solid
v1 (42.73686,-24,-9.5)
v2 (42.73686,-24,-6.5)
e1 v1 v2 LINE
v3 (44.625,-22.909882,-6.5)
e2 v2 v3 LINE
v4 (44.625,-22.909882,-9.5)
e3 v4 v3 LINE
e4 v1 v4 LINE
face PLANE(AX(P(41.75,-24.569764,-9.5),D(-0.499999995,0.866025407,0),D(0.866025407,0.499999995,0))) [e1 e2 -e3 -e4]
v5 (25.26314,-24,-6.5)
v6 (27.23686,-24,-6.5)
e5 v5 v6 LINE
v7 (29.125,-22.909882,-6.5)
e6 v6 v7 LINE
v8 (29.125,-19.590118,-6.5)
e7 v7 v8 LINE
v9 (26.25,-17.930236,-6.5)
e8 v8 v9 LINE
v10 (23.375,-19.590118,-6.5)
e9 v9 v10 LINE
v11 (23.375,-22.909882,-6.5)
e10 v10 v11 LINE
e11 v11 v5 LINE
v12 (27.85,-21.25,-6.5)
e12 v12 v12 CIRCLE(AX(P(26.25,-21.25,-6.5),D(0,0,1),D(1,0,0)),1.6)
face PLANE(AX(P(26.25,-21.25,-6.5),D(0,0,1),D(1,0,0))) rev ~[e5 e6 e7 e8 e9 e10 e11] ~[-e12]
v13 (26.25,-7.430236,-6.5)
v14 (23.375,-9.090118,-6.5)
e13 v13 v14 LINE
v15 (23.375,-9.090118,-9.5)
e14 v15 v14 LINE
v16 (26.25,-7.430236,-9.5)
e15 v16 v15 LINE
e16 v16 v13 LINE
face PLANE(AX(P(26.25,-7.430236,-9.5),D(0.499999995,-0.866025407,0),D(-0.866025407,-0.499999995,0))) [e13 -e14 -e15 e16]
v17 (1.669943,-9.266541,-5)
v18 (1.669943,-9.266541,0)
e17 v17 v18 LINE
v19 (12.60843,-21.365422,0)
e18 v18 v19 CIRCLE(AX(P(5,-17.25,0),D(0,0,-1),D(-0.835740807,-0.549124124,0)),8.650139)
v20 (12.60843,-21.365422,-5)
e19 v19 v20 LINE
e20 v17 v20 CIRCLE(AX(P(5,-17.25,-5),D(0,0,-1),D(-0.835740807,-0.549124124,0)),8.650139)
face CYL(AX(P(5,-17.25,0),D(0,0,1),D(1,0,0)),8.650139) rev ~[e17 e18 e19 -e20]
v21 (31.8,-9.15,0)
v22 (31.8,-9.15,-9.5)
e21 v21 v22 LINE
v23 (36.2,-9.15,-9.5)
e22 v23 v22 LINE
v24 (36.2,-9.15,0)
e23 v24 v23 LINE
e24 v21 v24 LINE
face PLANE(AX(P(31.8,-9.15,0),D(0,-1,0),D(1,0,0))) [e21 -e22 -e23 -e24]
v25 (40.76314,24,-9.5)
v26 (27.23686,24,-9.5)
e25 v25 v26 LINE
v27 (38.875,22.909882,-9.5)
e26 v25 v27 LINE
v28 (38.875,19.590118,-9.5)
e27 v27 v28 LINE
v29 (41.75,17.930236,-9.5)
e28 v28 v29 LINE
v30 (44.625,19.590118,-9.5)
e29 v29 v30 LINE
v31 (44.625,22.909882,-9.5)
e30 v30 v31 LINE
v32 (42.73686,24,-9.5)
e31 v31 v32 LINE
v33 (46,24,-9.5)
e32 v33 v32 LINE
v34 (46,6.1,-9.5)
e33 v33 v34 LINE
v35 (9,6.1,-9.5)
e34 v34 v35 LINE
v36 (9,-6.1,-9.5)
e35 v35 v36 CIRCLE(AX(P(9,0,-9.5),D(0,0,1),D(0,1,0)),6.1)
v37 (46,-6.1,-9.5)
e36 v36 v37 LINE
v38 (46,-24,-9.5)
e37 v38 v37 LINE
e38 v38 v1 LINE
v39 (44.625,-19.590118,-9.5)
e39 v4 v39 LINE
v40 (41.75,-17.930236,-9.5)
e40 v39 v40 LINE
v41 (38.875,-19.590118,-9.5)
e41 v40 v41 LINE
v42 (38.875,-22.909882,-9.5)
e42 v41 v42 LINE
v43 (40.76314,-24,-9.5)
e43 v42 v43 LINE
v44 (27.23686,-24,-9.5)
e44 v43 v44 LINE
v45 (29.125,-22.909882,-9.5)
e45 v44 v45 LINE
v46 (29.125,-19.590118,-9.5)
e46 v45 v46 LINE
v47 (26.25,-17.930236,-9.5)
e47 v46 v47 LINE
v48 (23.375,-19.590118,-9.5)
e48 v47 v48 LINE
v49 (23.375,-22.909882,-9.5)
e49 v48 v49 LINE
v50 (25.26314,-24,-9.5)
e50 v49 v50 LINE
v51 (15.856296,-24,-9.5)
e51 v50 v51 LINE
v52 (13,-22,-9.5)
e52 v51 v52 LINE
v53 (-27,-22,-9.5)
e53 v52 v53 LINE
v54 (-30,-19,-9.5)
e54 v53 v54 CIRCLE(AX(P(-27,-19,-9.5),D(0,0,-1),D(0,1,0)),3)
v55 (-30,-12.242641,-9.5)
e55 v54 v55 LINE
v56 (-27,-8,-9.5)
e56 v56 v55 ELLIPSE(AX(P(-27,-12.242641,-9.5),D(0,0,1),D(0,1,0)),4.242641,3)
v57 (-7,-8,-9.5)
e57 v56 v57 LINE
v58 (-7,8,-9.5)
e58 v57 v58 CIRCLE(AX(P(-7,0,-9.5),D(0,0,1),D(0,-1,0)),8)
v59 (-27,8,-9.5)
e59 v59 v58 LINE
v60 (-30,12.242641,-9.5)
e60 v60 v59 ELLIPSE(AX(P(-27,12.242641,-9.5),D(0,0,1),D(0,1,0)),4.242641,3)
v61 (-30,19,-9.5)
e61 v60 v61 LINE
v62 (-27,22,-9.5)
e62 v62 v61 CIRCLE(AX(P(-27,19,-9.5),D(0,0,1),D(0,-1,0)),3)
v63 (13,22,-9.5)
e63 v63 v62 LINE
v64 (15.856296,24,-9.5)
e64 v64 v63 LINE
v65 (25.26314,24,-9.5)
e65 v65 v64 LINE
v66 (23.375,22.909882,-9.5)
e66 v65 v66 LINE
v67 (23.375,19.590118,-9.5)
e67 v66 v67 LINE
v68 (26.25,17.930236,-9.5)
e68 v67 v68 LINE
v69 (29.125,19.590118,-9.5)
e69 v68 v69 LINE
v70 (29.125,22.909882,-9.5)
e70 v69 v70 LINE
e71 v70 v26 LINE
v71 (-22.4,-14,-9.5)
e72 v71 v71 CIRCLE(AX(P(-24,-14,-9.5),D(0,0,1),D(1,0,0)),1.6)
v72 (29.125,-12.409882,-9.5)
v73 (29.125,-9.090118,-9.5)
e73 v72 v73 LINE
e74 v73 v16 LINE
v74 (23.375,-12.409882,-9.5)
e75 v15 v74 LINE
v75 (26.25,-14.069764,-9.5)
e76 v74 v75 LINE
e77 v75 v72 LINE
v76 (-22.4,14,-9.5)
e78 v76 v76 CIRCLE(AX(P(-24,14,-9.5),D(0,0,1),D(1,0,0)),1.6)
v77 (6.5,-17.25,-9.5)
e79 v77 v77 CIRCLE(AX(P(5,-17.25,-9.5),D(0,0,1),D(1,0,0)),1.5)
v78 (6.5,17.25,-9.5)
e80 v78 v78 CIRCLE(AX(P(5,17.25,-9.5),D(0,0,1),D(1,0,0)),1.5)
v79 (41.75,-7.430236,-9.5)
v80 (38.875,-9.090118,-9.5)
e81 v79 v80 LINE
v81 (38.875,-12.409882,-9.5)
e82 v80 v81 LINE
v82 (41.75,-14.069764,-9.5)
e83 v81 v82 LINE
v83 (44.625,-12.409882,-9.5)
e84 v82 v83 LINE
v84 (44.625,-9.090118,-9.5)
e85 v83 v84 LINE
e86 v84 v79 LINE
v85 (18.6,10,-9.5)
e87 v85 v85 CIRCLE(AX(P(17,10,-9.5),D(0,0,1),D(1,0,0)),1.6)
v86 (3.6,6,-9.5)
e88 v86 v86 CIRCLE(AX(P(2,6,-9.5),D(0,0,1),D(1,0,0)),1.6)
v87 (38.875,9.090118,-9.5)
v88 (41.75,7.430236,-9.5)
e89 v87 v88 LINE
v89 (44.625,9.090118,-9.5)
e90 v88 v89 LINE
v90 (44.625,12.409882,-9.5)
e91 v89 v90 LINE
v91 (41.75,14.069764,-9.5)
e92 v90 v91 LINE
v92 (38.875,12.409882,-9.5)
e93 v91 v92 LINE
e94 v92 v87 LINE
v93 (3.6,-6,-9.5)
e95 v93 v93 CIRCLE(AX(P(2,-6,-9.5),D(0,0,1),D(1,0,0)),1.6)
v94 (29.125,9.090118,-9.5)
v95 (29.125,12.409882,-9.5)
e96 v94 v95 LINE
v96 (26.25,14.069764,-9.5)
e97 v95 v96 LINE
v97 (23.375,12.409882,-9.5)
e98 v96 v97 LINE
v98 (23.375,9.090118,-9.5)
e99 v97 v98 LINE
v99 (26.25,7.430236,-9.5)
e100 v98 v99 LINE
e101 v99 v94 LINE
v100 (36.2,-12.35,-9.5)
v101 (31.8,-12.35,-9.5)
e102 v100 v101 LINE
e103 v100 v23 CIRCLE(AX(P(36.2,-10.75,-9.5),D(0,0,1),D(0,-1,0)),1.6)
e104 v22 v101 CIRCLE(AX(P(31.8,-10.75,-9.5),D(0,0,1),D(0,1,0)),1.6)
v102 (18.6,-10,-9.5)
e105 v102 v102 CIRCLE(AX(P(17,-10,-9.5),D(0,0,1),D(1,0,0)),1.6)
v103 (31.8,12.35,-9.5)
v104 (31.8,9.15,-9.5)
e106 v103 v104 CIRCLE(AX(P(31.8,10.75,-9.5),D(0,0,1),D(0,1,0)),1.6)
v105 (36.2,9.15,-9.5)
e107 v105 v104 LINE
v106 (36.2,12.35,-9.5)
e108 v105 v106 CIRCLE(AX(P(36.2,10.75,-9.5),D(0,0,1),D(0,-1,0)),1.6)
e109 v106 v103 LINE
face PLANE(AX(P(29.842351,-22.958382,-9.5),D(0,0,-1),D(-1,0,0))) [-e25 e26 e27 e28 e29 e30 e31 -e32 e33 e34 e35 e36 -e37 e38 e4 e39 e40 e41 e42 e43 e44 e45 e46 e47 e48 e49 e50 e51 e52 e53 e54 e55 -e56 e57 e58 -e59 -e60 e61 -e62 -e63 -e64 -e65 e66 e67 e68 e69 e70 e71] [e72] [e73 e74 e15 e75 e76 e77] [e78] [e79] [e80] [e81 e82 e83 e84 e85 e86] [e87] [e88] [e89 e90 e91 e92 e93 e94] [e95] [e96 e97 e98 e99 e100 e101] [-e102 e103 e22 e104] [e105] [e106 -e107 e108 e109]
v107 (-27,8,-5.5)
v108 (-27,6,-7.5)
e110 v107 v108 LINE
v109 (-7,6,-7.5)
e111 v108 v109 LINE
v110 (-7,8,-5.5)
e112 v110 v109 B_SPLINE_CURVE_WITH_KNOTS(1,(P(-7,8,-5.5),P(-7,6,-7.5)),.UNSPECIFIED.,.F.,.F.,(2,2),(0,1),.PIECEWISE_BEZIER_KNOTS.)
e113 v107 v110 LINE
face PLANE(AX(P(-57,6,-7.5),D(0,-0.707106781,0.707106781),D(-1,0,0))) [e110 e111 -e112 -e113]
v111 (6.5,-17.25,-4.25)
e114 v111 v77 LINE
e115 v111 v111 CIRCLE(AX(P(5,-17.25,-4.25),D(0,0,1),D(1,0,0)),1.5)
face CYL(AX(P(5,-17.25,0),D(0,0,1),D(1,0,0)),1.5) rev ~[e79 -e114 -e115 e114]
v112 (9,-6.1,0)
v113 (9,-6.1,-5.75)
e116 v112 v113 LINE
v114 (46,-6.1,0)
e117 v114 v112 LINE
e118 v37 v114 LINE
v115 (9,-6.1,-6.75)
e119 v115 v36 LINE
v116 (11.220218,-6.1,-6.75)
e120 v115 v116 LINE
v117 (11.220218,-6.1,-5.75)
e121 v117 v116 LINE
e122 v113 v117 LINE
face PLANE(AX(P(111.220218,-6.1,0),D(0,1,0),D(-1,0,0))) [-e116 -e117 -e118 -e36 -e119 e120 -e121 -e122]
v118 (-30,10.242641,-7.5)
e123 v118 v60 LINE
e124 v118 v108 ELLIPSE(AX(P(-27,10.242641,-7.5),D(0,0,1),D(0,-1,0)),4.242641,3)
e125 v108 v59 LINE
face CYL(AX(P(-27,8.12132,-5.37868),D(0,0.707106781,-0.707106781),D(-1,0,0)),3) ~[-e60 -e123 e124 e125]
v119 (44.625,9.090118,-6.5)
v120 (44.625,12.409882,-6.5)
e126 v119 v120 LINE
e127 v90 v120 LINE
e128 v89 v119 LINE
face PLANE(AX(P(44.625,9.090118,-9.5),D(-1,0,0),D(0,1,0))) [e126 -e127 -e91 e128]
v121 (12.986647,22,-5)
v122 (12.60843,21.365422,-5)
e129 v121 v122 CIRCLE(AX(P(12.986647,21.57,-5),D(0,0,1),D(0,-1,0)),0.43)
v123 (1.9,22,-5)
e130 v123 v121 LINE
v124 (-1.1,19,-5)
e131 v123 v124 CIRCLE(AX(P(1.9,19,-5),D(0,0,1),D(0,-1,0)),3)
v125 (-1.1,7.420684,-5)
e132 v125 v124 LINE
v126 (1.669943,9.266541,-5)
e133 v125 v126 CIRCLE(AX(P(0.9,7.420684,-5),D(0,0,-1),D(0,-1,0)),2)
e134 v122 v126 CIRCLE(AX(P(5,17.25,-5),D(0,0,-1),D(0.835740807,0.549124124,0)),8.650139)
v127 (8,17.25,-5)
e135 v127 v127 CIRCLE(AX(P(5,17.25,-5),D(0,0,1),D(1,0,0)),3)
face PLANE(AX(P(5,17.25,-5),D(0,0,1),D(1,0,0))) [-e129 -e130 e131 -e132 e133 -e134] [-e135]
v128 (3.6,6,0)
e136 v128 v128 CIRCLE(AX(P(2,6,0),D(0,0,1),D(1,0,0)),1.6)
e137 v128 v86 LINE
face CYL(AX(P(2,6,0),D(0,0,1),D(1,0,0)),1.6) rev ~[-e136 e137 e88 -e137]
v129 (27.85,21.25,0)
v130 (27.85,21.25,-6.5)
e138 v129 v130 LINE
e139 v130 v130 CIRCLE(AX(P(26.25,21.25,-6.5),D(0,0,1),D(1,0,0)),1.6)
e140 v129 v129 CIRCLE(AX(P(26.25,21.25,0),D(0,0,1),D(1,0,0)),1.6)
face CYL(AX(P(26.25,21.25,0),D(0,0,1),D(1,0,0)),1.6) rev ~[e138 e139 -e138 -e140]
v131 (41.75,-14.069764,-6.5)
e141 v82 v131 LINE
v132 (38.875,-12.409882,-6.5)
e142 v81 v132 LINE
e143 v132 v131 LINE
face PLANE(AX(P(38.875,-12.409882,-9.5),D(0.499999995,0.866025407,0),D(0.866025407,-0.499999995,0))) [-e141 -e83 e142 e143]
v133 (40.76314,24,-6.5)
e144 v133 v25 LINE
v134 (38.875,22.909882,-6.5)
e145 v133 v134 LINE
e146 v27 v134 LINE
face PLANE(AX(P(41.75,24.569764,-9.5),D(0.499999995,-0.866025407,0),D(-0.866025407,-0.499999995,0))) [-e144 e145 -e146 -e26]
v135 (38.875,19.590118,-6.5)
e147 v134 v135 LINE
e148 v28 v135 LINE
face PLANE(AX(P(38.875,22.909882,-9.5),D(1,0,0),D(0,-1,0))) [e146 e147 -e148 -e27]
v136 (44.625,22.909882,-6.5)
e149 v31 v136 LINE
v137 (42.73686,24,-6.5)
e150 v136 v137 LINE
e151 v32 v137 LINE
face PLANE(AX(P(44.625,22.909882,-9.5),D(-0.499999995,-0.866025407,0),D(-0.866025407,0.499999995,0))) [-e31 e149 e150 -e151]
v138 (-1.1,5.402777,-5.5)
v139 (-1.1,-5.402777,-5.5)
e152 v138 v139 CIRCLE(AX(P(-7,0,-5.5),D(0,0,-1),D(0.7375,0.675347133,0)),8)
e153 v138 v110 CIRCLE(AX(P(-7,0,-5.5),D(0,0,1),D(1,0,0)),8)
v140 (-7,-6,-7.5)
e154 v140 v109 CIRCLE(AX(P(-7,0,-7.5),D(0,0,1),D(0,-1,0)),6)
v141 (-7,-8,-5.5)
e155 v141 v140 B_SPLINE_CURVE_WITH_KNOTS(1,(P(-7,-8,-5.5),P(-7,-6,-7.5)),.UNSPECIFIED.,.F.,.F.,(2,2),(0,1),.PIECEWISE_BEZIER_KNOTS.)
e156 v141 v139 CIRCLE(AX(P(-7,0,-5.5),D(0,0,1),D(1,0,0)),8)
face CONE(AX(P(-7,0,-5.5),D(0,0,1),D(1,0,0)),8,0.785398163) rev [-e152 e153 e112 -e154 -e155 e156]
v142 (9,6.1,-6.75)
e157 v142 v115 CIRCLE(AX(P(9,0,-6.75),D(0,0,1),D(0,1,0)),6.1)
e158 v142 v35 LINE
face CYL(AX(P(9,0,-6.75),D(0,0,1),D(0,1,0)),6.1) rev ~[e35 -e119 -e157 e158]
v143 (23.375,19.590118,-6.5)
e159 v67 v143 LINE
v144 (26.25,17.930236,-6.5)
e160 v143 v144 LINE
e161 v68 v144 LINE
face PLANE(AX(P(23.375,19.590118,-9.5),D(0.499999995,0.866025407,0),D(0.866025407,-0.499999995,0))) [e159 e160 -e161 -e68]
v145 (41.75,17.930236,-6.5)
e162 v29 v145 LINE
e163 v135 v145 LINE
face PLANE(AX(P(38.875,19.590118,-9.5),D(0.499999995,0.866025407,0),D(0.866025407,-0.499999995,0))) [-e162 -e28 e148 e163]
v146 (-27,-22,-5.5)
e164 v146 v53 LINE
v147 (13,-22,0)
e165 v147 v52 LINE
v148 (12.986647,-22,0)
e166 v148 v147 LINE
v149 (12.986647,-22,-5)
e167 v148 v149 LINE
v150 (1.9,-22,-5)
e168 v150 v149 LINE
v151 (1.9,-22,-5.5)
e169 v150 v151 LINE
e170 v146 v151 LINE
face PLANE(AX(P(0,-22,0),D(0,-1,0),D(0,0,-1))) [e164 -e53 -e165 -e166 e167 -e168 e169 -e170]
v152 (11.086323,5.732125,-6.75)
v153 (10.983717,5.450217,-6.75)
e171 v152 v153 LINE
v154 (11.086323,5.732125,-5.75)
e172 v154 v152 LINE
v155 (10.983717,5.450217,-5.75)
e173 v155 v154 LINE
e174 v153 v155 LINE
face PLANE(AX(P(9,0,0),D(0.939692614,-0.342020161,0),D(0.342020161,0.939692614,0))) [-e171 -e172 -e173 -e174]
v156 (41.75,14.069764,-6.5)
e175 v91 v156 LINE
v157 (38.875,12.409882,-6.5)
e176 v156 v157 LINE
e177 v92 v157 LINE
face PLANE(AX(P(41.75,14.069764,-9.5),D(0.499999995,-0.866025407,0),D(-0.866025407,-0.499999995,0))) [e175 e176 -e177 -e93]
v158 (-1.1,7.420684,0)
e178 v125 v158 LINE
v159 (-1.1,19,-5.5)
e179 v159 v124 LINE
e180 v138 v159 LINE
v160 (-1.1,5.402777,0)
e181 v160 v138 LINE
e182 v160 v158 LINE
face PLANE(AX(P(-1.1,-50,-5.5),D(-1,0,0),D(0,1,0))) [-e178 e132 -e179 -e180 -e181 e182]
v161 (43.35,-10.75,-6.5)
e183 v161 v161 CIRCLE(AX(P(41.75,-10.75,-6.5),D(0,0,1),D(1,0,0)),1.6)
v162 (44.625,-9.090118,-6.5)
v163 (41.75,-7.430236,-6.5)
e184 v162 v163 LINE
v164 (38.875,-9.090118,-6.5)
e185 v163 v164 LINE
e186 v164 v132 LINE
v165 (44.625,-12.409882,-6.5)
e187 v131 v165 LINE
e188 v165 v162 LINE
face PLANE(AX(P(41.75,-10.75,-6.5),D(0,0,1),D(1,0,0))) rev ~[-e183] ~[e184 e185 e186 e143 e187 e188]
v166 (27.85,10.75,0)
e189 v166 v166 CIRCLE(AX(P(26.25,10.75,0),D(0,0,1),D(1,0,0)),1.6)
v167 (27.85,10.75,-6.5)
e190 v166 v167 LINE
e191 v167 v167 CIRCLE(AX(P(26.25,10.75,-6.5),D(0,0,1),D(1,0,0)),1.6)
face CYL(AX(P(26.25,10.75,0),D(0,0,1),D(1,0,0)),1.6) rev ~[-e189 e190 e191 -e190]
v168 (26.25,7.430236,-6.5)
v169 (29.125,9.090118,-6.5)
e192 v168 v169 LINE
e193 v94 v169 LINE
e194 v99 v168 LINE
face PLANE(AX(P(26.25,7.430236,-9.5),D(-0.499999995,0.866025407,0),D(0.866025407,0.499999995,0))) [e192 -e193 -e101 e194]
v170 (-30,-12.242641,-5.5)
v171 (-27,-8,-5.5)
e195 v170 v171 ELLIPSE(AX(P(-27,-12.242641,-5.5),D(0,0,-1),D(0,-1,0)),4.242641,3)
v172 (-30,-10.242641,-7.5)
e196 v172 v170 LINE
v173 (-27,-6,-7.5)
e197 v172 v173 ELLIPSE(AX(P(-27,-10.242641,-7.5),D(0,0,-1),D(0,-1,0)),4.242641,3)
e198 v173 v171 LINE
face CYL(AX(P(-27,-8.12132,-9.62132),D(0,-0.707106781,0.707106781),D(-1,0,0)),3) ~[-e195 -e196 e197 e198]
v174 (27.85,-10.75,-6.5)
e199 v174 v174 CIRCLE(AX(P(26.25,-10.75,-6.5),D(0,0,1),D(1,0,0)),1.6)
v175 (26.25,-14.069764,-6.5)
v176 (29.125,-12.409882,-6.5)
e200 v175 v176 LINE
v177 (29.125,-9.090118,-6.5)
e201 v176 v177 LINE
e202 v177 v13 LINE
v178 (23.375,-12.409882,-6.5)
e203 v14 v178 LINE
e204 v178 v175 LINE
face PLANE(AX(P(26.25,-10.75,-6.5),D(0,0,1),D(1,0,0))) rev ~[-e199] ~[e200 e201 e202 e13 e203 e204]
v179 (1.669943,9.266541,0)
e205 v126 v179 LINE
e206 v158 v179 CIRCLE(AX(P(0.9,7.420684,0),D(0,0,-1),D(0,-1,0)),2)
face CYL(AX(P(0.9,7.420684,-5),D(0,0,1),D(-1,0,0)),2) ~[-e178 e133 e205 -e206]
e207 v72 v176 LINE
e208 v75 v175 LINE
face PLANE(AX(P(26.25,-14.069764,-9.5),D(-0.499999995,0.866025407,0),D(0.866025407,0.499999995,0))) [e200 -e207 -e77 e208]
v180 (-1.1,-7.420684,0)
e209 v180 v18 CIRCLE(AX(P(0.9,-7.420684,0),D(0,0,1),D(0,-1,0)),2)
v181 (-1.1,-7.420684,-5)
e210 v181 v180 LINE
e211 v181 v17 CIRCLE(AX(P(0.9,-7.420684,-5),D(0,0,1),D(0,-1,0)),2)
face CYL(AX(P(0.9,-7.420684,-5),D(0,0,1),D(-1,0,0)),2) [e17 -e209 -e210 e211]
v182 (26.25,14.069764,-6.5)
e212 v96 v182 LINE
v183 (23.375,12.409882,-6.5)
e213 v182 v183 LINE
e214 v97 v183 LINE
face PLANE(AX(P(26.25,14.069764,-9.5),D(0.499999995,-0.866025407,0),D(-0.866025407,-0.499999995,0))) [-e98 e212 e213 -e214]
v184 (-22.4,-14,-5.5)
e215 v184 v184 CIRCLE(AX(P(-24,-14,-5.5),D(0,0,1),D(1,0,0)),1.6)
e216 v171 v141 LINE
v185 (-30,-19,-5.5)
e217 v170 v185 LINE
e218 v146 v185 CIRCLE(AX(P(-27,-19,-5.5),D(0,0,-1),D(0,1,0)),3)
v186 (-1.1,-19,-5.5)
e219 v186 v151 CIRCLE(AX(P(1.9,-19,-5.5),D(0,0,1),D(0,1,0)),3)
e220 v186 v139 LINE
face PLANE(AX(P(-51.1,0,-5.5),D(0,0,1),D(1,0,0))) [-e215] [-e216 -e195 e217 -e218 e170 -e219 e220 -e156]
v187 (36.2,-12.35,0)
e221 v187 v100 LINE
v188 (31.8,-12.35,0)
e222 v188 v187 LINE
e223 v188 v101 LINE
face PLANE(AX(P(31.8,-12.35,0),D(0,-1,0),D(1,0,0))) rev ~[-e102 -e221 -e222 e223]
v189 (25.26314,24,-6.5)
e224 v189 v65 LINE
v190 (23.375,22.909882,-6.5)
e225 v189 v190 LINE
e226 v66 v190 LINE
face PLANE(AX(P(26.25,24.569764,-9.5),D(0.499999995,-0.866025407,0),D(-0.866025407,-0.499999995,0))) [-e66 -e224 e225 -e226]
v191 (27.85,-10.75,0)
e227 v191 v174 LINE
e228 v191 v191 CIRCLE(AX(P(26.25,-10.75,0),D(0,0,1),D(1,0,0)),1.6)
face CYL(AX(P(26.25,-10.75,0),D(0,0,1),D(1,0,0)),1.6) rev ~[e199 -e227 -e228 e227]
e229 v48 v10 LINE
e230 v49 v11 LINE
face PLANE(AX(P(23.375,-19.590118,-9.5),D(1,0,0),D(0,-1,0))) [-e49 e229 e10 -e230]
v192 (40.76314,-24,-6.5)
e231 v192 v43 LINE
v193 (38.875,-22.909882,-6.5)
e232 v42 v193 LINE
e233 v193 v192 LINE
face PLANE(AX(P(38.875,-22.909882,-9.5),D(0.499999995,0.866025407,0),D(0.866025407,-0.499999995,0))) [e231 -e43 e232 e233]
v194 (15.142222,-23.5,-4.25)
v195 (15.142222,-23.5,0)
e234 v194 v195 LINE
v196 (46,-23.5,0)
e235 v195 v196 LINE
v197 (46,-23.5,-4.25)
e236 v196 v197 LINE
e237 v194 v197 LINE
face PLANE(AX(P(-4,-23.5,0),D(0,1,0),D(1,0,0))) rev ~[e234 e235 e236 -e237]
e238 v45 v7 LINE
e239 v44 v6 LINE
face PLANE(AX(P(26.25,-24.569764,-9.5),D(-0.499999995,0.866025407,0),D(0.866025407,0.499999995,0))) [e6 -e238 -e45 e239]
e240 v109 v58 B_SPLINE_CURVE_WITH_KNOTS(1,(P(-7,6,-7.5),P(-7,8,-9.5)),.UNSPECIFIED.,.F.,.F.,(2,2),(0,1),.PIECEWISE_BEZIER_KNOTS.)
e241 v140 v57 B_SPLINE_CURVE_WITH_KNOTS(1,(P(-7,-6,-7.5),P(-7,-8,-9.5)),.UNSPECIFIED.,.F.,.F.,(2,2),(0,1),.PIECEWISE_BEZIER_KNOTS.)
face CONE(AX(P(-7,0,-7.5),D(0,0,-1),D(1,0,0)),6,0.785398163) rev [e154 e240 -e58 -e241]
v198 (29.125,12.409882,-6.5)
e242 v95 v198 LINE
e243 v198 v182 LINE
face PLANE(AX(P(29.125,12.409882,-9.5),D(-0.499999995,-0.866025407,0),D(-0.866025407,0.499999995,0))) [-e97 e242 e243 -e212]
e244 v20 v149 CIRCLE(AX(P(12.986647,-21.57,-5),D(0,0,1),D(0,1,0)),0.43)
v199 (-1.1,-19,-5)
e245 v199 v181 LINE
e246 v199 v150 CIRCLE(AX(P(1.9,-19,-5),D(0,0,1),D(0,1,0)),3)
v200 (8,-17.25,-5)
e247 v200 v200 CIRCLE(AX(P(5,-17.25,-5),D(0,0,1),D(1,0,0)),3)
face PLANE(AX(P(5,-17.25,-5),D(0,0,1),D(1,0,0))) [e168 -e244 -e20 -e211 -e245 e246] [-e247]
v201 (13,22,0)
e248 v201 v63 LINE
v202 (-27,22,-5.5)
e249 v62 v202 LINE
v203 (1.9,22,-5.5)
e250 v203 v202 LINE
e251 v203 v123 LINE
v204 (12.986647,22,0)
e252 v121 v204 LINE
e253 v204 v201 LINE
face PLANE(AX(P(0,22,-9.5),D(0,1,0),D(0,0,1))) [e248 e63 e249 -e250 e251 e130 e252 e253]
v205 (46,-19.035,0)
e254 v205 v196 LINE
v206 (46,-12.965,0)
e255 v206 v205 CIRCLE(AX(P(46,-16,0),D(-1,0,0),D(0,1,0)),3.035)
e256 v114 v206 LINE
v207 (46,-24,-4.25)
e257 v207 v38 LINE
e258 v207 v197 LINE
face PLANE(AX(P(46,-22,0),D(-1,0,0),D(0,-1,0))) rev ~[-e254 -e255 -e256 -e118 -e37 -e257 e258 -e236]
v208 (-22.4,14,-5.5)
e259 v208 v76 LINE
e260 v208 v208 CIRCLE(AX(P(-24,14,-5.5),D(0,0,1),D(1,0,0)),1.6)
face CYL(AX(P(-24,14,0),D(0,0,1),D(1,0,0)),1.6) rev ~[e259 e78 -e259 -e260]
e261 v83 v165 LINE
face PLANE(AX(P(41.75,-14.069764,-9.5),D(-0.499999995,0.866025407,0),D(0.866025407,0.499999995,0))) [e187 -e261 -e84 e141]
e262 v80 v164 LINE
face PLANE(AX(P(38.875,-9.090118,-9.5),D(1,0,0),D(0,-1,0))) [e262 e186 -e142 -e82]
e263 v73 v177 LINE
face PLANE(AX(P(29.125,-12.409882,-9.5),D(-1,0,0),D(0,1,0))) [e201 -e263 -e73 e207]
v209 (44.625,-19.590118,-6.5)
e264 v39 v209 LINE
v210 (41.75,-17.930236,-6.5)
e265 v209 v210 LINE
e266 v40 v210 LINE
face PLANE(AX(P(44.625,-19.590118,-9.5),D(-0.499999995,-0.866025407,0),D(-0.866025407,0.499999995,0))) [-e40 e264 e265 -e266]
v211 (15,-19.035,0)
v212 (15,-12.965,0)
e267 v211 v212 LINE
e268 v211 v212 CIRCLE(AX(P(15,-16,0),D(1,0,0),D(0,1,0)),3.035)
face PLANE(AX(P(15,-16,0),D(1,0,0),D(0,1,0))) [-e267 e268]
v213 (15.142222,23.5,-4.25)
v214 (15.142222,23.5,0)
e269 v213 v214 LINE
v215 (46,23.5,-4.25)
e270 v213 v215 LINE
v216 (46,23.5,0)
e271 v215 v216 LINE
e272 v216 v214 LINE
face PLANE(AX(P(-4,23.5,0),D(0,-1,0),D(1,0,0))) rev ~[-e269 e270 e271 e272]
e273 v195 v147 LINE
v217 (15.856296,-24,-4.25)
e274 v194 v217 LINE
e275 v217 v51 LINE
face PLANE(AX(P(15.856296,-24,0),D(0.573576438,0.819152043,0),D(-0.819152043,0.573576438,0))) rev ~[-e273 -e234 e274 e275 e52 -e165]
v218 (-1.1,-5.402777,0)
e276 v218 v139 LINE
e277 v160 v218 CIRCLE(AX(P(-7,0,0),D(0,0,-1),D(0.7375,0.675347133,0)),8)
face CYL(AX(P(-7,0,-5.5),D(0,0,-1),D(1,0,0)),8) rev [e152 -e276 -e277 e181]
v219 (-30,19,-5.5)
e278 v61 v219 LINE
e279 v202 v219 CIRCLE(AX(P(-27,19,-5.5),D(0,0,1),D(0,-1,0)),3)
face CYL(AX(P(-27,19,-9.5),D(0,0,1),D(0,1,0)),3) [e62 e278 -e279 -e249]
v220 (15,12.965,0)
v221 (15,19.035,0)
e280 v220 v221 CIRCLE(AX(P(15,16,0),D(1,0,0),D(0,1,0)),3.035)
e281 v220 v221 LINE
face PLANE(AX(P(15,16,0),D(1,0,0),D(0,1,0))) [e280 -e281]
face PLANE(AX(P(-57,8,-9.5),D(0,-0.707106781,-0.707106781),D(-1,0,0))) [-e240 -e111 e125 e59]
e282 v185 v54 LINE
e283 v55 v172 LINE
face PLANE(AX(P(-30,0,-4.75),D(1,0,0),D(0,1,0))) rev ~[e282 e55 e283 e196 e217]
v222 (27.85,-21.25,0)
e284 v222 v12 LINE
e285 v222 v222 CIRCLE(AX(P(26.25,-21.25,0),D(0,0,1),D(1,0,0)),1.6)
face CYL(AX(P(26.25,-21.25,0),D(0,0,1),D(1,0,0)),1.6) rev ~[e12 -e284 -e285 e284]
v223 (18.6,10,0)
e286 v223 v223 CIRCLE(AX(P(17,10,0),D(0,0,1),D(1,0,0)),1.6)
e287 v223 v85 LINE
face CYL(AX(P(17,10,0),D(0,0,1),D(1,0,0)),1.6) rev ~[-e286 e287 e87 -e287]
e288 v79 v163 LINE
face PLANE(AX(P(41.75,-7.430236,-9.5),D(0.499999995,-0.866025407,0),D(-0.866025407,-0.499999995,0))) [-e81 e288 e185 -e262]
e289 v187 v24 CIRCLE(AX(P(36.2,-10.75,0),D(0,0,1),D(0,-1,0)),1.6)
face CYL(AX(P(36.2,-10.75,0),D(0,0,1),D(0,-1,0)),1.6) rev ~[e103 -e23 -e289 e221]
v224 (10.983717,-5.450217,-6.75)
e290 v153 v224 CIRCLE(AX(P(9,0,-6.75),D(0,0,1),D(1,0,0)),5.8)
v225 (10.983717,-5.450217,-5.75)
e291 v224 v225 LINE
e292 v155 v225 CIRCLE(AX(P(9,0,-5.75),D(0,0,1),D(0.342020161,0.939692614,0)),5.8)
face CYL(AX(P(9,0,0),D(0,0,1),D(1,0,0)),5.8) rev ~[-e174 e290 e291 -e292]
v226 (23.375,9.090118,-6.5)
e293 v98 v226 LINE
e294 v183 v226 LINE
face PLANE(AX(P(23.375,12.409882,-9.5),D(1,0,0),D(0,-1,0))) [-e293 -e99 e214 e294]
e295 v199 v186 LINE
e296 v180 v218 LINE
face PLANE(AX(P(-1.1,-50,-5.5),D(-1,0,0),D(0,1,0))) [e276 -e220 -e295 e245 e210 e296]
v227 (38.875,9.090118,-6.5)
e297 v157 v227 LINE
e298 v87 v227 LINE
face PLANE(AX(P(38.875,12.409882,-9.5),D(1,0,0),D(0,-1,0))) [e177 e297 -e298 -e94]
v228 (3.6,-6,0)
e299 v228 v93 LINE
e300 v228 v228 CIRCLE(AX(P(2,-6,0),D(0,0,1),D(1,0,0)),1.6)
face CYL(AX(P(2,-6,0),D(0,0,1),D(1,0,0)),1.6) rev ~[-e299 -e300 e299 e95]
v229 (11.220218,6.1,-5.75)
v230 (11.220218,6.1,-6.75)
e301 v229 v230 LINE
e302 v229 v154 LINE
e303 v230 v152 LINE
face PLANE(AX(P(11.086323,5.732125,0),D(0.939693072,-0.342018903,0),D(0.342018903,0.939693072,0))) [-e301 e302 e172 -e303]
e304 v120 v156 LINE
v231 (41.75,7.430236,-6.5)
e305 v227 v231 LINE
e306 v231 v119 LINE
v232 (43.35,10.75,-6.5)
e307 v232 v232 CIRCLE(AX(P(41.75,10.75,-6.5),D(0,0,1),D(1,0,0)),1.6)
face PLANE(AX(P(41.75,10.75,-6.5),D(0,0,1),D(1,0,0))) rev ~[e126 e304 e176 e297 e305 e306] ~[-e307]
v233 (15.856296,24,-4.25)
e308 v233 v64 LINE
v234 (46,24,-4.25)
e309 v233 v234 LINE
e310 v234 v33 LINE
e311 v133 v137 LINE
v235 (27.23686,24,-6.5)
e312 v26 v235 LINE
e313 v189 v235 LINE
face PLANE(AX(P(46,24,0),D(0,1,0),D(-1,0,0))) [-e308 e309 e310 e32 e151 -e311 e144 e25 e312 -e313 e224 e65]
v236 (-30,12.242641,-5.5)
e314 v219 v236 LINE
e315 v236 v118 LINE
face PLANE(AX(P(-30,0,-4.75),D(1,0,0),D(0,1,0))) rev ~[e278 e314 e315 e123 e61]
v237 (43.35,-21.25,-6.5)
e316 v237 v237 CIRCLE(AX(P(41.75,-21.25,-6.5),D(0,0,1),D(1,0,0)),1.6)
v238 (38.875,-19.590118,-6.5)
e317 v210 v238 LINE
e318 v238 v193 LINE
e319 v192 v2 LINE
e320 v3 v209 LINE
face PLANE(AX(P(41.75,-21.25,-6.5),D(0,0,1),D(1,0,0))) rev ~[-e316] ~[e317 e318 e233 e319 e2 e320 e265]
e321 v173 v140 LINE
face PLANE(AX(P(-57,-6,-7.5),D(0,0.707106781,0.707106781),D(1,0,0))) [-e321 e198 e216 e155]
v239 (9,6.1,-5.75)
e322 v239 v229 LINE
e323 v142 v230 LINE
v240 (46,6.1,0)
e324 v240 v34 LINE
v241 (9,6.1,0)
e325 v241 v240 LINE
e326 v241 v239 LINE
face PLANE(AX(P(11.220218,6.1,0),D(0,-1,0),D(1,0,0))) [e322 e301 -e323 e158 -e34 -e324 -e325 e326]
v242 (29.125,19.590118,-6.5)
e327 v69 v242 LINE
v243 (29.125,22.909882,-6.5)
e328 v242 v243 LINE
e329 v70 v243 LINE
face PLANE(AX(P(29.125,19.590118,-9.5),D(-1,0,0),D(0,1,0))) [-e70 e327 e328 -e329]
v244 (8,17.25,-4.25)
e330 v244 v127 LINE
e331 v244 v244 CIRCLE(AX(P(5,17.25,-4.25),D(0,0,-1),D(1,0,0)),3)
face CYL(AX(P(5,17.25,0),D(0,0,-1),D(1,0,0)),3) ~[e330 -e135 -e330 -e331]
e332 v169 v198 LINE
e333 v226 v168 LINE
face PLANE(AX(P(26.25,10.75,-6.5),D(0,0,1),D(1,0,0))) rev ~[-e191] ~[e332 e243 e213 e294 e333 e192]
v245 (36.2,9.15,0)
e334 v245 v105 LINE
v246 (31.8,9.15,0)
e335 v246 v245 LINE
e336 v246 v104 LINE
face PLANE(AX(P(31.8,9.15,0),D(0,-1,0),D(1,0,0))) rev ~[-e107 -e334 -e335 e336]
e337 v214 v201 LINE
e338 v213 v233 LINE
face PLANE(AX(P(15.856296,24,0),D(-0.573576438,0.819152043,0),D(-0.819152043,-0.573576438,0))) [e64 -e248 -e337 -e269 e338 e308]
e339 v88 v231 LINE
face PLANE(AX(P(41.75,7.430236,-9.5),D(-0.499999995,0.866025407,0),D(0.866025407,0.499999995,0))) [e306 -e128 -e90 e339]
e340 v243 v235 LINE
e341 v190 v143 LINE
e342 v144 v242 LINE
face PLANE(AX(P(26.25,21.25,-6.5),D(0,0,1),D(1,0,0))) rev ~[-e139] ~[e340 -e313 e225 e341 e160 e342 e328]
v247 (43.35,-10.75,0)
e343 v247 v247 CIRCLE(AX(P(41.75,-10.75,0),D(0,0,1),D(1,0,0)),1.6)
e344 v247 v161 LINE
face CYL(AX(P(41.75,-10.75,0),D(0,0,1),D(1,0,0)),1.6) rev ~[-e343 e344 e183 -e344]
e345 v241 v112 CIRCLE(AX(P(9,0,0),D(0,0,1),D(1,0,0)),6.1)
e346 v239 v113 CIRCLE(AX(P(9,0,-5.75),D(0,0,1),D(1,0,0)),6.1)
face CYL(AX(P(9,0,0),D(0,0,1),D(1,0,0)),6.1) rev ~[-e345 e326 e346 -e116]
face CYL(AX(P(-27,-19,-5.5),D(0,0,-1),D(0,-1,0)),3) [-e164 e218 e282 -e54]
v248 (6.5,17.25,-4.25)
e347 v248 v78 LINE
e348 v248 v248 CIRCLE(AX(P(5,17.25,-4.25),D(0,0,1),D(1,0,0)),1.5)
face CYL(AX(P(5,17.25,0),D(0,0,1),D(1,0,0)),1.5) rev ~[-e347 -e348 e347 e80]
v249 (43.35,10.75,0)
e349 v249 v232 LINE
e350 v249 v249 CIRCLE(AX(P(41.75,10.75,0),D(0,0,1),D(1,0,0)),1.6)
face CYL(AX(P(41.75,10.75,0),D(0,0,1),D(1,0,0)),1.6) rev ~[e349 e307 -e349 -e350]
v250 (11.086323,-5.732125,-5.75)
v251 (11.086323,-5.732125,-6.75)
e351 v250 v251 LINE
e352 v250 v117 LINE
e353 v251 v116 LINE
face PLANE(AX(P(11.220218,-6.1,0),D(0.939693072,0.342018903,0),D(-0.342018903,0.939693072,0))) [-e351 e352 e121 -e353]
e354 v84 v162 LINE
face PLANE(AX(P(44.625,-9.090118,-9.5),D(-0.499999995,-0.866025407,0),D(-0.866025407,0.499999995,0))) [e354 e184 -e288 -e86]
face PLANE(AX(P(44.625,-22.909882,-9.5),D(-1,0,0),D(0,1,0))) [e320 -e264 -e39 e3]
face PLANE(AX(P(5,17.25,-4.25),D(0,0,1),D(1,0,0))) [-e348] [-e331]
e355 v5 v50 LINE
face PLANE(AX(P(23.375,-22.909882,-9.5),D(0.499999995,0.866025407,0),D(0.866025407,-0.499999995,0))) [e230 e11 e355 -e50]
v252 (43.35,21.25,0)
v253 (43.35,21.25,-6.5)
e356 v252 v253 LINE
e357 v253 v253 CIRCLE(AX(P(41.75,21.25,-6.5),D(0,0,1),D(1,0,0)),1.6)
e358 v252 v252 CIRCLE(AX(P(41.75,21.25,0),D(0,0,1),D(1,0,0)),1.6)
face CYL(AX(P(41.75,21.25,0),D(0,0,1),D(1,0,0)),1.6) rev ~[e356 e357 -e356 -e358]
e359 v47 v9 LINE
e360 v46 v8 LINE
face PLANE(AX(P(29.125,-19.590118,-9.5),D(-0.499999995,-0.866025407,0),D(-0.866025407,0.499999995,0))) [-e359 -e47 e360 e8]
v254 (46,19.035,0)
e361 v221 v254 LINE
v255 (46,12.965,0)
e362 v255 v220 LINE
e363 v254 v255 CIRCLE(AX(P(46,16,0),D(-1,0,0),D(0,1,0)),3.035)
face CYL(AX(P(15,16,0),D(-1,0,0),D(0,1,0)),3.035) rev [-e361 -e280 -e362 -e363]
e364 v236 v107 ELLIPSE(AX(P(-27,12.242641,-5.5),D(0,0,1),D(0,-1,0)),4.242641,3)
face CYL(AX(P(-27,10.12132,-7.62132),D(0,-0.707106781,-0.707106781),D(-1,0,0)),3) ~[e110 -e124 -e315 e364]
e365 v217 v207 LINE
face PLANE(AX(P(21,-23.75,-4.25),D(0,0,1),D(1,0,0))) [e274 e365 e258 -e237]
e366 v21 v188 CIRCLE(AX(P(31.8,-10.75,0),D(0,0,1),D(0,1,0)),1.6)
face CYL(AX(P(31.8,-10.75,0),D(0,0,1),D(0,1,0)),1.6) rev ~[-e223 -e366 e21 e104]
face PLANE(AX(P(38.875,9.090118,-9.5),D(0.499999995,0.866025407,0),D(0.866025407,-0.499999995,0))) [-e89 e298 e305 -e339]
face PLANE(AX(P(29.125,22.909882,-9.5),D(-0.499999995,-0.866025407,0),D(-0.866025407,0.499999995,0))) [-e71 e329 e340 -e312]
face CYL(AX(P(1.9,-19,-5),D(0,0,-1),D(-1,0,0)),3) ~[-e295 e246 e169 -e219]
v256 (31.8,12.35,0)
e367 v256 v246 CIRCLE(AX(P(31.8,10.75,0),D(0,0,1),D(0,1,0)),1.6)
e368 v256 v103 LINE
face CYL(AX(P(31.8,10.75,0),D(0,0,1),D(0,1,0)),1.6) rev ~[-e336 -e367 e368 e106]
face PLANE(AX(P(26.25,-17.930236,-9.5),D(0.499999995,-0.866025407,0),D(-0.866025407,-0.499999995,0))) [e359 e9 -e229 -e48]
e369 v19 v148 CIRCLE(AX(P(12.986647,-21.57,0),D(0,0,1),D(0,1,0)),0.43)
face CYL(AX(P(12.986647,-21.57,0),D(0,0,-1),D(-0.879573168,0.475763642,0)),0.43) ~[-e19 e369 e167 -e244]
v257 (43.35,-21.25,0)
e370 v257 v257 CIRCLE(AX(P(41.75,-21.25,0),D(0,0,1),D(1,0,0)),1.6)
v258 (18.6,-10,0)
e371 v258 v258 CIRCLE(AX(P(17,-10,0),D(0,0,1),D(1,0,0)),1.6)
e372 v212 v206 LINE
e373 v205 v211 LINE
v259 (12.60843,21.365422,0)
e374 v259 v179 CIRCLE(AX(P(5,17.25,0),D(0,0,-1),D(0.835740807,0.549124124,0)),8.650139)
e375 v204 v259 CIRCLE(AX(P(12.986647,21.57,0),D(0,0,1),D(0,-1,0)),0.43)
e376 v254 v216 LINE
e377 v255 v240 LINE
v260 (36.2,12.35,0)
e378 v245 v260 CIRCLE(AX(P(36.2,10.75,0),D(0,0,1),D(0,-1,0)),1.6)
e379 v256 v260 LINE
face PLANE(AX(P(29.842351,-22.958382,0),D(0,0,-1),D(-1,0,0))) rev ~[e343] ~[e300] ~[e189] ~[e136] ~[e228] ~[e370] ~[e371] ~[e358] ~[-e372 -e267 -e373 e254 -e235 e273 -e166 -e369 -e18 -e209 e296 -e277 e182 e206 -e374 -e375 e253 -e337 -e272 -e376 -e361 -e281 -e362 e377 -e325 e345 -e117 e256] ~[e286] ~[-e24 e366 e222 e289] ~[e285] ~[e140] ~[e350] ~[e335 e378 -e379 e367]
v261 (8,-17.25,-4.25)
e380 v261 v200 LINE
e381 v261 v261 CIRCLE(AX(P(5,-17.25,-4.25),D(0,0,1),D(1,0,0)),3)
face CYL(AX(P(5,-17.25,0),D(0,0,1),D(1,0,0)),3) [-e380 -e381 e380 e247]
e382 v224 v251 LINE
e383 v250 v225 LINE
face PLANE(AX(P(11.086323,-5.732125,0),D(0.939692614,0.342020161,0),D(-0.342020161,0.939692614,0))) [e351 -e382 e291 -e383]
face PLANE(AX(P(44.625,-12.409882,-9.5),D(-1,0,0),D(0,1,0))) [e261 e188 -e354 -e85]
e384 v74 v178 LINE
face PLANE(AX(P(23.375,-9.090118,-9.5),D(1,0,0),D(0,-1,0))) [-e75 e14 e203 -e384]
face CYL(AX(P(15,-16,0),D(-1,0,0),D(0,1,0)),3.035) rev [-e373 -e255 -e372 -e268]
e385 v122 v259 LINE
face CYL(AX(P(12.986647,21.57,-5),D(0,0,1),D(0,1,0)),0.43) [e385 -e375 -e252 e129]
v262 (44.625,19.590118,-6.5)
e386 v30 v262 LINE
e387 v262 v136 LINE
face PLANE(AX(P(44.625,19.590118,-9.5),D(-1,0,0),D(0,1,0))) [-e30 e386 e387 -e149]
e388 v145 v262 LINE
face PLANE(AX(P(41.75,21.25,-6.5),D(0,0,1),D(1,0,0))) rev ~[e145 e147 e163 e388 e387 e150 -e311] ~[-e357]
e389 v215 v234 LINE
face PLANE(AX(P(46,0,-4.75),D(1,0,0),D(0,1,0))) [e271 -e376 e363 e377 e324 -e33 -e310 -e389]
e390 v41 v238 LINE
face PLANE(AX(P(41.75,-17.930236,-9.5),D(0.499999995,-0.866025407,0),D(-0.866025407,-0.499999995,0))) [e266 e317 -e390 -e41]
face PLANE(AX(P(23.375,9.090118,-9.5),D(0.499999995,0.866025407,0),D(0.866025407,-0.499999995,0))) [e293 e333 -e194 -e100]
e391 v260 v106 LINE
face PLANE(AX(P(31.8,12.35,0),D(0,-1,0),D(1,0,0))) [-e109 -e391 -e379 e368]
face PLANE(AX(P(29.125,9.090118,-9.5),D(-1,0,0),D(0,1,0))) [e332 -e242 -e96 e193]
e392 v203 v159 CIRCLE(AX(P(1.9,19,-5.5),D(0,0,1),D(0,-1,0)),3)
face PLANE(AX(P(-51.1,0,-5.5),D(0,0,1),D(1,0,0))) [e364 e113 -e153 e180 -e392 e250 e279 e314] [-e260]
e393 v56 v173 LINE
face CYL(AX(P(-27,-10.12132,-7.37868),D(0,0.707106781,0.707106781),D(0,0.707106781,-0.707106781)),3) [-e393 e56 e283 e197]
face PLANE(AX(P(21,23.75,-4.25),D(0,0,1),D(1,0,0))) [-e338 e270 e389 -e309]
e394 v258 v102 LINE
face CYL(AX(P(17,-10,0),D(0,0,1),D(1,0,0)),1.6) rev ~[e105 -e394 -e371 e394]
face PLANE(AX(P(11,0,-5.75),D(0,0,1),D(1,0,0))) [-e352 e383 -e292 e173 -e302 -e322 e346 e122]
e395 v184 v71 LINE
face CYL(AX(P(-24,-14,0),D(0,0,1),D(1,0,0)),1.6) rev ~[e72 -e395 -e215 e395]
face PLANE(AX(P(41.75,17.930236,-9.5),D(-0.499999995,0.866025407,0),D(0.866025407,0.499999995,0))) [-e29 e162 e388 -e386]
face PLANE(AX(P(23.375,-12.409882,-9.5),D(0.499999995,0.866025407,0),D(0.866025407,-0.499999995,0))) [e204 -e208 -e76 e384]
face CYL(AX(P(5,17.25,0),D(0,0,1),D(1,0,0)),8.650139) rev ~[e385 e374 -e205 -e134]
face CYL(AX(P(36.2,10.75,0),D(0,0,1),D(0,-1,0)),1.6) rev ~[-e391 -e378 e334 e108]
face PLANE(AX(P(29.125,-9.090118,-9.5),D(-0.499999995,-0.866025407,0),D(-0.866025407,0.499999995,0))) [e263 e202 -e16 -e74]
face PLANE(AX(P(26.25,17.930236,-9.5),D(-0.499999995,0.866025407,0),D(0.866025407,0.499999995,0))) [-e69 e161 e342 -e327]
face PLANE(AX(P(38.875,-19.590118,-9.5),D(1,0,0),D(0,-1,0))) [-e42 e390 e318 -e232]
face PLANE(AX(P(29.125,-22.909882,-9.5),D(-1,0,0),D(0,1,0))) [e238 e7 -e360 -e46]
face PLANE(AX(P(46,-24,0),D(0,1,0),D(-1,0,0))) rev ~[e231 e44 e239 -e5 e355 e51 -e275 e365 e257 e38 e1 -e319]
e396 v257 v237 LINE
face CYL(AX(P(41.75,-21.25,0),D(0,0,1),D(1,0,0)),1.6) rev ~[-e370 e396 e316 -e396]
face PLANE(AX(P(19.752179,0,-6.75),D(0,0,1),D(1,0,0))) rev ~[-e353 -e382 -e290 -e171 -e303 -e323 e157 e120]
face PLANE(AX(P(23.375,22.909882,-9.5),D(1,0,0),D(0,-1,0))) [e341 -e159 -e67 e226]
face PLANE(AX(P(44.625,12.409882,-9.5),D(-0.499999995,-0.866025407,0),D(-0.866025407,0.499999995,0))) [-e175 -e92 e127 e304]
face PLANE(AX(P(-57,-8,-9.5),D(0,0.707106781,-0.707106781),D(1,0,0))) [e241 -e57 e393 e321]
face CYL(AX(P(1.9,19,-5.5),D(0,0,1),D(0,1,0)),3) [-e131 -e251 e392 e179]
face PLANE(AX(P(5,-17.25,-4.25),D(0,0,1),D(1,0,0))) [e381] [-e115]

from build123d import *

# Parameters (mm, degrees)
PAD_DEPTH            = 46
PAD_DEPTH_BACK       = 30
SKETCH009_R          = 8.650139
POCKET006_DEPTH      = 4.25
SKETCH011_R          = 1.5
POCKET008_DEPTH      = 9.501
POCKET008_DEPTH_BACK = 0.001
SKETCH010_R          = 8.650139
SKETCH010_R_2        = 3
POCKET007_DEPTH      = 5
SKETCH005_R          = 5.8
POCKET002_DEPTH      = 9.501
POCKET002_DEPTH_BACK = 0.001
SKETCH006_R          = 6.1
POCKET003_DEPTH      = 5.75
POCKET004_DEPTH      = 9.501
POCKET004_DEPTH_BACK = 0.001
SKETCH008_W          = 4
SKETCH008_H          = 12.2
POCKET005_DEPTH      = 5.75
POCKET009_DEPTH      = 9.501
POCKET009_DEPTH_BACK = 0.001
POCKET_DEPTH         = 2.751
SKETCH014_R          = 3.035
POCKET010_DEPTH      = 31.001
PAD001_DEPTH         = 9.5
SKETCH017_R          = 1.6
POCKET011_DEPTH      = 9.501
SKETCH018_W          = 100
SKETCH018_H          = 100
POCKET012_DEPTH      = 5.501
SKETCH020_R          = 8
SKETCH019_R          = 6
SKETCH021_R          = 8
POCKET013_DEPTH      = 5.501
SKETCH023_W          = 100
SKETCH023_H          = 16
SKETCH022_W          = 100
SKETCH022_H          = 12
SKETCH024_W          = 100
SKETCH024_H          = 16
SKETCH025_R          = 1.6
POCKET014_DEPTH      = 9.501
POCKET015_DEPTH      = 3
FILLET_R             = 3
FILLET001_R          = 2
FILLET002_R          = 0.43
FILLET003_R          = 3
SKETCH027_W          = 50
SKETCH027_H          = 0.5
POCKET016_DEPTH      = 4.25


with BuildPart() as part:
    # Sketch → Pad (new body, two sides)
    with BuildSketch(Plane.YZ) as pad_sk:
        Polygon((0, -9.5), (22, -9.5), (22, 0), (-22, 0), (-22, -9.5), align=None)
    extrude(amount=PAD_DEPTH)
    extrude(pad_sk.sketch, amount=-PAD_DEPTH_BACK)

    # Sketch009 → Pocket006 (cut, symmetric)
    with BuildSketch(Plane.XY):
        with Locations((5, -17.25)):
            Circle(SKETCH009_R)
        with Locations((5, 17.25)):
            Circle(SKETCH009_R)
    extrude(amount=POCKET006_DEPTH, both=True, mode=Mode.SUBTRACT)

    # Sketch011 → Pocket008 (cut, two sides)
    with BuildSketch(Plane.XY) as pocket008_sk:
        with Locations((5, 17.25)):
            Circle(SKETCH011_R)
        with Locations((5, -17.25)):
            Circle(SKETCH011_R)
    extrude(amount=-POCKET008_DEPTH, mode=Mode.SUBTRACT)
    extrude(pocket008_sk.sketch, amount=POCKET008_DEPTH_BACK, mode=Mode.SUBTRACT)

    # Sketch010 → Pocket007 (cut, symmetric)
    with BuildSketch(Plane.XY):
        with Locations((5, -17.25)):
            Circle(SKETCH010_R)
        with Locations((5, -17.25)):
            Circle(SKETCH010_R_2, mode=Mode.SUBTRACT)
        with Locations((5, 17.25)):
            Circle(SKETCH010_R)
        with Locations((5, 17.25)):
            Circle(SKETCH010_R_2, mode=Mode.SUBTRACT)
    extrude(amount=POCKET007_DEPTH, both=True, mode=Mode.SUBTRACT)

    # Sketch005 → Pocket002 (cut, two sides)
    with BuildSketch(Plane.XY) as pocket002_sk:
        with Locations((9, 0)):
            Circle(SKETCH005_R)
    extrude(amount=-POCKET002_DEPTH, mode=Mode.SUBTRACT)
    extrude(pocket002_sk.sketch, amount=POCKET002_DEPTH_BACK, mode=Mode.SUBTRACT)

    # Sketch006 → Pocket003 (cut)
    with BuildSketch(Plane.XY):
        with Locations((9, 0)):
            Circle(SKETCH006_R)
    extrude(amount=-POCKET003_DEPTH, mode=Mode.SUBTRACT)

    # Sketch007 → Pocket004 (cut, two sides)
    with BuildSketch(Plane.XY) as pocket004_sk:
        Polygon((9, 0), (11.086323, 5.732125), (11.220218, 6.1), (111.220218, 6.1), (111.220218, -6.1), (11.220218, -6.1), (11.086323, -5.732125), align=None)
    extrude(amount=-POCKET004_DEPTH, mode=Mode.SUBTRACT)
    extrude(pocket004_sk.sketch, amount=POCKET004_DEPTH_BACK, mode=Mode.SUBTRACT)

    # Sketch008 → Pocket005 (cut)
    with BuildSketch(Plane.XY):
        with Locations((11, 0)):
            Rectangle(SKETCH008_W, SKETCH008_H)
    extrude(amount=-POCKET005_DEPTH, mode=Mode.SUBTRACT)

    # Sketch012 → Pocket009 (cut, two sides)
    with BuildSketch(Plane.XY) as pocket009_sk:
        with BuildLine():
            ThreePointArc((31.8, 12.35), (30.2, 10.75), (31.8, 9.15))
            Line((31.8, 9.15), (36.2, 9.15))
            ThreePointArc((36.2, 9.15), (37.8, 10.75), (36.2, 12.35))
            Line((31.8, 12.35), (36.2, 12.35))
        make_face()
        with BuildLine():
            ThreePointArc((31.8, -9.15), (30.2, -10.75), (31.8, -12.35))
            Line((31.8, -12.35), (36.2, -12.35))
            ThreePointArc((36.2, -12.35), (37.8, -10.75), (36.2, -9.15))
            Line((31.8, -9.15), (36.2, -9.15))
        make_face()
    extrude(amount=-POCKET009_DEPTH, mode=Mode.SUBTRACT)
    extrude(pocket009_sk.sketch, amount=POCKET009_DEPTH_BACK, mode=Mode.SUBTRACT)

    # Sketch013 (on DatumPlane) → Pocket (cut, through all)
    with BuildSketch(Plane.XY.offset(-6.75)):
        with BuildLine():
            ThreePointArc((9, 6.1), (2.9, 0), (9, -6.1))
            Line((9, -6.1), (34, -6.1))
            Line((34, 6.1), (34, -6.1))
            Line((9, 6.1), (34, 6.1))
        make_face()
    extrude(amount=-POCKET_DEPTH, mode=Mode.SUBTRACT)

    # Sketch014 (on DatumPlane) → Pocket010 (cut, through all)
    with BuildSketch(Plane.YZ.offset(15)):
        with Locations((-16, 0)):
            Circle(SKETCH014_R)
        with Locations((16, 0)):
            Circle(SKETCH014_R)
    extrude(amount=POCKET010_DEPTH, mode=Mode.SUBTRACT)

    # Sketch016 → Pad001 (join)
    with BuildSketch(Plane.XY):
        Polygon((13, -22), (46, -22), (46, -24), (15.856296, -24), align=None)
        Polygon((13, 22), (46, 22), (46, 24), (15.856296, 24), align=None)
    extrude(amount=-PAD001_DEPTH)

    # Sketch017 → Pocket011 (cut, through all)
    with BuildSketch(Plane.XY):
        with Locations((26.25, -10.75)):
            Circle(SKETCH017_R)
        with Locations((26.25, -21.25)):
            Circle(SKETCH017_R)
        with Locations((41.75, -21.25)):
            Circle(SKETCH017_R)
        with Locations((41.75, -10.75)):
            Circle(SKETCH017_R)
        with Locations((26.25, 10.75)):
            Circle(SKETCH017_R)
        with Locations((41.75, 10.75)):
            Circle(SKETCH017_R)
        with Locations((26.25, 21.25)):
            Circle(SKETCH017_R)
        with Locations((41.75, 21.25)):
            Circle(SKETCH017_R)
        with Locations((17, -10)):
            Circle(SKETCH017_R)
        with Locations((17, 10)):
            Circle(SKETCH017_R)
        with Locations((2, -6)):
            Circle(SKETCH017_R)
        with Locations((2, 6)):
            Circle(SKETCH017_R)
    extrude(amount=-POCKET011_DEPTH, mode=Mode.SUBTRACT)

    # Sketch018 (on DatumPlane) → Pocket012 (cut, through all)
    with BuildSketch(Plane.XY.offset(-5.5)):
        with Locations((-51.1, 0)):
            Rectangle(SKETCH018_W, SKETCH018_H)
    extrude(amount=POCKET012_DEPTH, mode=Mode.SUBTRACT)

    # Sketch020 (on DatumPlane) → SubtractiveLoft section 0
    with BuildSketch(Plane.XY.offset(-5.5)):
        with Locations((-7, 0)):
            Circle(SKETCH020_R)
    # Sketch019 (on DatumPlane) → SubtractiveLoft section 1
    with BuildSketch(Plane.XY.offset(-7.5)):
        with Locations((-7, 0)):
            Circle(SKETCH019_R)
    # Sketch021 (on DatumPlane) → SubtractiveLoft section 2
    with BuildSketch(Plane.XY.offset(-9.5)):
        with Locations((-7, 0)):
            Circle(SKETCH021_R)
    loft(ruled=True, mode=Mode.SUBTRACT)

    # Sketch020 (on DatumPlane) → Pocket013 (cut, through all)
    with BuildSketch(Plane.XY.offset(-5.5)):
        with Locations((-7, 0)):
            Circle(SKETCH020_R)
    extrude(amount=POCKET013_DEPTH, mode=Mode.SUBTRACT)

    # Sketch023 (on DatumPlane) → SubtractiveLoft001 section 0
    with BuildSketch(Plane.XY.offset(-5.5)):
        with Locations((-57, 0)):
            Rectangle(SKETCH023_W, SKETCH023_H)
    # Sketch022 (on DatumPlane) → SubtractiveLoft001 section 1
    with BuildSketch(Plane.XY.offset(-7.5)):
        with Locations((-57, 0)):
            Rectangle(SKETCH022_W, SKETCH022_H)
    # Sketch024 (on DatumPlane) → SubtractiveLoft001 section 2
    with BuildSketch(Plane.XY.offset(-9.5)):
        with Locations((-57, 0)):
            Rectangle(SKETCH024_W, SKETCH024_H)
    loft(ruled=True, mode=Mode.SUBTRACT)

    # Sketch025 → Pocket014 (cut, through all)
    with BuildSketch(Plane.XY):
        with Locations((-24, -14)):
            Circle(SKETCH025_R)
        with Locations((-24, 14)):
            Circle(SKETCH025_R)
    extrude(amount=-POCKET014_DEPTH, mode=Mode.SUBTRACT)

    # Sketch026 (on DatumPlane) → Pocket015 (cut)
    with BuildSketch(Plane.XY.offset(-9.5)):
        Polygon((26.25, 24.569764), (23.375, 22.909882), (23.375, 19.590118), (26.25, 17.930236), (29.125, 19.590118), (29.125, 22.909882), align=None)
        Polygon((44.625, 22.909882), (41.75, 24.569764), (38.875, 22.909882), (38.875, 19.590118), (41.75, 17.930236), (44.625, 19.590118), align=None)
        Polygon((44.625, 9.090118), (44.625, 12.409882), (41.75, 14.069764), (38.875, 12.409882), (38.875, 9.090118), (41.75, 7.430236), align=None)
        Polygon((29.125, 9.090118), (29.125, 12.409882), (26.25, 14.069764), (23.375, 12.409882), (23.375, 9.090118), (26.25, 7.430236), align=None)
        Polygon((29.125, -12.409882), (29.125, -9.090118), (26.25, -7.430236), (23.375, -9.090118), (23.375, -12.409882), (26.25, -14.069764), align=None)
        Polygon((41.75, -14.069764), (44.625, -12.409882), (44.625, -9.090118), (41.75, -7.430236), (38.875, -9.090118), (38.875, -12.409882), align=None)
        Polygon((44.625, -22.909882), (44.625, -19.590118), (41.75, -17.930236), (38.875, -19.590118), (38.875, -22.909882), (41.75, -24.569764), align=None)
        Polygon((29.125, -19.590118), (26.25, -17.930236), (23.375, -19.590118), (23.375, -22.909882), (26.25, -24.569764), (29.125, -22.909882), align=None)
    extrude(amount=POCKET015_DEPTH, mode=Mode.SUBTRACT)

    # Fillet
    fillet_edges = [part.edges().sort_by_distance(p)[0] for p in [
        (-30, -22, -7.5),
        (-30, 22, -7.5),
        (-30, 7, -6.5),
        (-30, 7, -8.5),
        (-30, -7, -6.5),
        (-30, -7, -8.5),
    ]]
    fillet(fillet_edges, radius=FILLET_R)

    # Fillet001
    fillet001_edges = [part.edges().sort_by_distance(p)[0] for p in [
        (-1.1, -11.1169, -2.125),
        (-1.1, 11.1169, -2.125),
    ]]
    fillet(fillet001_edges, radius=FILLET001_R)

    # Fillet002
    fillet002_edges = [part.edges().sort_by_distance(p)[0] for p in [
        (12.229275, -22, -2.125),
        (12.229275, 22, -2.125),
    ]]
    fillet(fillet002_edges, radius=FILLET002_R)

    # Fillet003
    fillet003_edges = [part.edges().sort_by_distance(p)[0] for p in [
        (-1.1, -22, -5.25),
        (-1.1, 22, -5.25),
    ]]
    fillet(fillet003_edges, radius=FILLET003_R)

    # Sketch027 → Pocket016 (cut, symmetric)
    with BuildSketch(Plane.XY):
        with Locations((21, -23.75)):
            Rectangle(SKETCH027_W, SKETCH027_H)
        with Locations((21, 23.75)):
            Rectangle(SKETCH027_W, SKETCH027_H)
    extrude(amount=POCKET016_DEPTH, both=True, mode=Mode.SUBTRACT)


solid = part.part
